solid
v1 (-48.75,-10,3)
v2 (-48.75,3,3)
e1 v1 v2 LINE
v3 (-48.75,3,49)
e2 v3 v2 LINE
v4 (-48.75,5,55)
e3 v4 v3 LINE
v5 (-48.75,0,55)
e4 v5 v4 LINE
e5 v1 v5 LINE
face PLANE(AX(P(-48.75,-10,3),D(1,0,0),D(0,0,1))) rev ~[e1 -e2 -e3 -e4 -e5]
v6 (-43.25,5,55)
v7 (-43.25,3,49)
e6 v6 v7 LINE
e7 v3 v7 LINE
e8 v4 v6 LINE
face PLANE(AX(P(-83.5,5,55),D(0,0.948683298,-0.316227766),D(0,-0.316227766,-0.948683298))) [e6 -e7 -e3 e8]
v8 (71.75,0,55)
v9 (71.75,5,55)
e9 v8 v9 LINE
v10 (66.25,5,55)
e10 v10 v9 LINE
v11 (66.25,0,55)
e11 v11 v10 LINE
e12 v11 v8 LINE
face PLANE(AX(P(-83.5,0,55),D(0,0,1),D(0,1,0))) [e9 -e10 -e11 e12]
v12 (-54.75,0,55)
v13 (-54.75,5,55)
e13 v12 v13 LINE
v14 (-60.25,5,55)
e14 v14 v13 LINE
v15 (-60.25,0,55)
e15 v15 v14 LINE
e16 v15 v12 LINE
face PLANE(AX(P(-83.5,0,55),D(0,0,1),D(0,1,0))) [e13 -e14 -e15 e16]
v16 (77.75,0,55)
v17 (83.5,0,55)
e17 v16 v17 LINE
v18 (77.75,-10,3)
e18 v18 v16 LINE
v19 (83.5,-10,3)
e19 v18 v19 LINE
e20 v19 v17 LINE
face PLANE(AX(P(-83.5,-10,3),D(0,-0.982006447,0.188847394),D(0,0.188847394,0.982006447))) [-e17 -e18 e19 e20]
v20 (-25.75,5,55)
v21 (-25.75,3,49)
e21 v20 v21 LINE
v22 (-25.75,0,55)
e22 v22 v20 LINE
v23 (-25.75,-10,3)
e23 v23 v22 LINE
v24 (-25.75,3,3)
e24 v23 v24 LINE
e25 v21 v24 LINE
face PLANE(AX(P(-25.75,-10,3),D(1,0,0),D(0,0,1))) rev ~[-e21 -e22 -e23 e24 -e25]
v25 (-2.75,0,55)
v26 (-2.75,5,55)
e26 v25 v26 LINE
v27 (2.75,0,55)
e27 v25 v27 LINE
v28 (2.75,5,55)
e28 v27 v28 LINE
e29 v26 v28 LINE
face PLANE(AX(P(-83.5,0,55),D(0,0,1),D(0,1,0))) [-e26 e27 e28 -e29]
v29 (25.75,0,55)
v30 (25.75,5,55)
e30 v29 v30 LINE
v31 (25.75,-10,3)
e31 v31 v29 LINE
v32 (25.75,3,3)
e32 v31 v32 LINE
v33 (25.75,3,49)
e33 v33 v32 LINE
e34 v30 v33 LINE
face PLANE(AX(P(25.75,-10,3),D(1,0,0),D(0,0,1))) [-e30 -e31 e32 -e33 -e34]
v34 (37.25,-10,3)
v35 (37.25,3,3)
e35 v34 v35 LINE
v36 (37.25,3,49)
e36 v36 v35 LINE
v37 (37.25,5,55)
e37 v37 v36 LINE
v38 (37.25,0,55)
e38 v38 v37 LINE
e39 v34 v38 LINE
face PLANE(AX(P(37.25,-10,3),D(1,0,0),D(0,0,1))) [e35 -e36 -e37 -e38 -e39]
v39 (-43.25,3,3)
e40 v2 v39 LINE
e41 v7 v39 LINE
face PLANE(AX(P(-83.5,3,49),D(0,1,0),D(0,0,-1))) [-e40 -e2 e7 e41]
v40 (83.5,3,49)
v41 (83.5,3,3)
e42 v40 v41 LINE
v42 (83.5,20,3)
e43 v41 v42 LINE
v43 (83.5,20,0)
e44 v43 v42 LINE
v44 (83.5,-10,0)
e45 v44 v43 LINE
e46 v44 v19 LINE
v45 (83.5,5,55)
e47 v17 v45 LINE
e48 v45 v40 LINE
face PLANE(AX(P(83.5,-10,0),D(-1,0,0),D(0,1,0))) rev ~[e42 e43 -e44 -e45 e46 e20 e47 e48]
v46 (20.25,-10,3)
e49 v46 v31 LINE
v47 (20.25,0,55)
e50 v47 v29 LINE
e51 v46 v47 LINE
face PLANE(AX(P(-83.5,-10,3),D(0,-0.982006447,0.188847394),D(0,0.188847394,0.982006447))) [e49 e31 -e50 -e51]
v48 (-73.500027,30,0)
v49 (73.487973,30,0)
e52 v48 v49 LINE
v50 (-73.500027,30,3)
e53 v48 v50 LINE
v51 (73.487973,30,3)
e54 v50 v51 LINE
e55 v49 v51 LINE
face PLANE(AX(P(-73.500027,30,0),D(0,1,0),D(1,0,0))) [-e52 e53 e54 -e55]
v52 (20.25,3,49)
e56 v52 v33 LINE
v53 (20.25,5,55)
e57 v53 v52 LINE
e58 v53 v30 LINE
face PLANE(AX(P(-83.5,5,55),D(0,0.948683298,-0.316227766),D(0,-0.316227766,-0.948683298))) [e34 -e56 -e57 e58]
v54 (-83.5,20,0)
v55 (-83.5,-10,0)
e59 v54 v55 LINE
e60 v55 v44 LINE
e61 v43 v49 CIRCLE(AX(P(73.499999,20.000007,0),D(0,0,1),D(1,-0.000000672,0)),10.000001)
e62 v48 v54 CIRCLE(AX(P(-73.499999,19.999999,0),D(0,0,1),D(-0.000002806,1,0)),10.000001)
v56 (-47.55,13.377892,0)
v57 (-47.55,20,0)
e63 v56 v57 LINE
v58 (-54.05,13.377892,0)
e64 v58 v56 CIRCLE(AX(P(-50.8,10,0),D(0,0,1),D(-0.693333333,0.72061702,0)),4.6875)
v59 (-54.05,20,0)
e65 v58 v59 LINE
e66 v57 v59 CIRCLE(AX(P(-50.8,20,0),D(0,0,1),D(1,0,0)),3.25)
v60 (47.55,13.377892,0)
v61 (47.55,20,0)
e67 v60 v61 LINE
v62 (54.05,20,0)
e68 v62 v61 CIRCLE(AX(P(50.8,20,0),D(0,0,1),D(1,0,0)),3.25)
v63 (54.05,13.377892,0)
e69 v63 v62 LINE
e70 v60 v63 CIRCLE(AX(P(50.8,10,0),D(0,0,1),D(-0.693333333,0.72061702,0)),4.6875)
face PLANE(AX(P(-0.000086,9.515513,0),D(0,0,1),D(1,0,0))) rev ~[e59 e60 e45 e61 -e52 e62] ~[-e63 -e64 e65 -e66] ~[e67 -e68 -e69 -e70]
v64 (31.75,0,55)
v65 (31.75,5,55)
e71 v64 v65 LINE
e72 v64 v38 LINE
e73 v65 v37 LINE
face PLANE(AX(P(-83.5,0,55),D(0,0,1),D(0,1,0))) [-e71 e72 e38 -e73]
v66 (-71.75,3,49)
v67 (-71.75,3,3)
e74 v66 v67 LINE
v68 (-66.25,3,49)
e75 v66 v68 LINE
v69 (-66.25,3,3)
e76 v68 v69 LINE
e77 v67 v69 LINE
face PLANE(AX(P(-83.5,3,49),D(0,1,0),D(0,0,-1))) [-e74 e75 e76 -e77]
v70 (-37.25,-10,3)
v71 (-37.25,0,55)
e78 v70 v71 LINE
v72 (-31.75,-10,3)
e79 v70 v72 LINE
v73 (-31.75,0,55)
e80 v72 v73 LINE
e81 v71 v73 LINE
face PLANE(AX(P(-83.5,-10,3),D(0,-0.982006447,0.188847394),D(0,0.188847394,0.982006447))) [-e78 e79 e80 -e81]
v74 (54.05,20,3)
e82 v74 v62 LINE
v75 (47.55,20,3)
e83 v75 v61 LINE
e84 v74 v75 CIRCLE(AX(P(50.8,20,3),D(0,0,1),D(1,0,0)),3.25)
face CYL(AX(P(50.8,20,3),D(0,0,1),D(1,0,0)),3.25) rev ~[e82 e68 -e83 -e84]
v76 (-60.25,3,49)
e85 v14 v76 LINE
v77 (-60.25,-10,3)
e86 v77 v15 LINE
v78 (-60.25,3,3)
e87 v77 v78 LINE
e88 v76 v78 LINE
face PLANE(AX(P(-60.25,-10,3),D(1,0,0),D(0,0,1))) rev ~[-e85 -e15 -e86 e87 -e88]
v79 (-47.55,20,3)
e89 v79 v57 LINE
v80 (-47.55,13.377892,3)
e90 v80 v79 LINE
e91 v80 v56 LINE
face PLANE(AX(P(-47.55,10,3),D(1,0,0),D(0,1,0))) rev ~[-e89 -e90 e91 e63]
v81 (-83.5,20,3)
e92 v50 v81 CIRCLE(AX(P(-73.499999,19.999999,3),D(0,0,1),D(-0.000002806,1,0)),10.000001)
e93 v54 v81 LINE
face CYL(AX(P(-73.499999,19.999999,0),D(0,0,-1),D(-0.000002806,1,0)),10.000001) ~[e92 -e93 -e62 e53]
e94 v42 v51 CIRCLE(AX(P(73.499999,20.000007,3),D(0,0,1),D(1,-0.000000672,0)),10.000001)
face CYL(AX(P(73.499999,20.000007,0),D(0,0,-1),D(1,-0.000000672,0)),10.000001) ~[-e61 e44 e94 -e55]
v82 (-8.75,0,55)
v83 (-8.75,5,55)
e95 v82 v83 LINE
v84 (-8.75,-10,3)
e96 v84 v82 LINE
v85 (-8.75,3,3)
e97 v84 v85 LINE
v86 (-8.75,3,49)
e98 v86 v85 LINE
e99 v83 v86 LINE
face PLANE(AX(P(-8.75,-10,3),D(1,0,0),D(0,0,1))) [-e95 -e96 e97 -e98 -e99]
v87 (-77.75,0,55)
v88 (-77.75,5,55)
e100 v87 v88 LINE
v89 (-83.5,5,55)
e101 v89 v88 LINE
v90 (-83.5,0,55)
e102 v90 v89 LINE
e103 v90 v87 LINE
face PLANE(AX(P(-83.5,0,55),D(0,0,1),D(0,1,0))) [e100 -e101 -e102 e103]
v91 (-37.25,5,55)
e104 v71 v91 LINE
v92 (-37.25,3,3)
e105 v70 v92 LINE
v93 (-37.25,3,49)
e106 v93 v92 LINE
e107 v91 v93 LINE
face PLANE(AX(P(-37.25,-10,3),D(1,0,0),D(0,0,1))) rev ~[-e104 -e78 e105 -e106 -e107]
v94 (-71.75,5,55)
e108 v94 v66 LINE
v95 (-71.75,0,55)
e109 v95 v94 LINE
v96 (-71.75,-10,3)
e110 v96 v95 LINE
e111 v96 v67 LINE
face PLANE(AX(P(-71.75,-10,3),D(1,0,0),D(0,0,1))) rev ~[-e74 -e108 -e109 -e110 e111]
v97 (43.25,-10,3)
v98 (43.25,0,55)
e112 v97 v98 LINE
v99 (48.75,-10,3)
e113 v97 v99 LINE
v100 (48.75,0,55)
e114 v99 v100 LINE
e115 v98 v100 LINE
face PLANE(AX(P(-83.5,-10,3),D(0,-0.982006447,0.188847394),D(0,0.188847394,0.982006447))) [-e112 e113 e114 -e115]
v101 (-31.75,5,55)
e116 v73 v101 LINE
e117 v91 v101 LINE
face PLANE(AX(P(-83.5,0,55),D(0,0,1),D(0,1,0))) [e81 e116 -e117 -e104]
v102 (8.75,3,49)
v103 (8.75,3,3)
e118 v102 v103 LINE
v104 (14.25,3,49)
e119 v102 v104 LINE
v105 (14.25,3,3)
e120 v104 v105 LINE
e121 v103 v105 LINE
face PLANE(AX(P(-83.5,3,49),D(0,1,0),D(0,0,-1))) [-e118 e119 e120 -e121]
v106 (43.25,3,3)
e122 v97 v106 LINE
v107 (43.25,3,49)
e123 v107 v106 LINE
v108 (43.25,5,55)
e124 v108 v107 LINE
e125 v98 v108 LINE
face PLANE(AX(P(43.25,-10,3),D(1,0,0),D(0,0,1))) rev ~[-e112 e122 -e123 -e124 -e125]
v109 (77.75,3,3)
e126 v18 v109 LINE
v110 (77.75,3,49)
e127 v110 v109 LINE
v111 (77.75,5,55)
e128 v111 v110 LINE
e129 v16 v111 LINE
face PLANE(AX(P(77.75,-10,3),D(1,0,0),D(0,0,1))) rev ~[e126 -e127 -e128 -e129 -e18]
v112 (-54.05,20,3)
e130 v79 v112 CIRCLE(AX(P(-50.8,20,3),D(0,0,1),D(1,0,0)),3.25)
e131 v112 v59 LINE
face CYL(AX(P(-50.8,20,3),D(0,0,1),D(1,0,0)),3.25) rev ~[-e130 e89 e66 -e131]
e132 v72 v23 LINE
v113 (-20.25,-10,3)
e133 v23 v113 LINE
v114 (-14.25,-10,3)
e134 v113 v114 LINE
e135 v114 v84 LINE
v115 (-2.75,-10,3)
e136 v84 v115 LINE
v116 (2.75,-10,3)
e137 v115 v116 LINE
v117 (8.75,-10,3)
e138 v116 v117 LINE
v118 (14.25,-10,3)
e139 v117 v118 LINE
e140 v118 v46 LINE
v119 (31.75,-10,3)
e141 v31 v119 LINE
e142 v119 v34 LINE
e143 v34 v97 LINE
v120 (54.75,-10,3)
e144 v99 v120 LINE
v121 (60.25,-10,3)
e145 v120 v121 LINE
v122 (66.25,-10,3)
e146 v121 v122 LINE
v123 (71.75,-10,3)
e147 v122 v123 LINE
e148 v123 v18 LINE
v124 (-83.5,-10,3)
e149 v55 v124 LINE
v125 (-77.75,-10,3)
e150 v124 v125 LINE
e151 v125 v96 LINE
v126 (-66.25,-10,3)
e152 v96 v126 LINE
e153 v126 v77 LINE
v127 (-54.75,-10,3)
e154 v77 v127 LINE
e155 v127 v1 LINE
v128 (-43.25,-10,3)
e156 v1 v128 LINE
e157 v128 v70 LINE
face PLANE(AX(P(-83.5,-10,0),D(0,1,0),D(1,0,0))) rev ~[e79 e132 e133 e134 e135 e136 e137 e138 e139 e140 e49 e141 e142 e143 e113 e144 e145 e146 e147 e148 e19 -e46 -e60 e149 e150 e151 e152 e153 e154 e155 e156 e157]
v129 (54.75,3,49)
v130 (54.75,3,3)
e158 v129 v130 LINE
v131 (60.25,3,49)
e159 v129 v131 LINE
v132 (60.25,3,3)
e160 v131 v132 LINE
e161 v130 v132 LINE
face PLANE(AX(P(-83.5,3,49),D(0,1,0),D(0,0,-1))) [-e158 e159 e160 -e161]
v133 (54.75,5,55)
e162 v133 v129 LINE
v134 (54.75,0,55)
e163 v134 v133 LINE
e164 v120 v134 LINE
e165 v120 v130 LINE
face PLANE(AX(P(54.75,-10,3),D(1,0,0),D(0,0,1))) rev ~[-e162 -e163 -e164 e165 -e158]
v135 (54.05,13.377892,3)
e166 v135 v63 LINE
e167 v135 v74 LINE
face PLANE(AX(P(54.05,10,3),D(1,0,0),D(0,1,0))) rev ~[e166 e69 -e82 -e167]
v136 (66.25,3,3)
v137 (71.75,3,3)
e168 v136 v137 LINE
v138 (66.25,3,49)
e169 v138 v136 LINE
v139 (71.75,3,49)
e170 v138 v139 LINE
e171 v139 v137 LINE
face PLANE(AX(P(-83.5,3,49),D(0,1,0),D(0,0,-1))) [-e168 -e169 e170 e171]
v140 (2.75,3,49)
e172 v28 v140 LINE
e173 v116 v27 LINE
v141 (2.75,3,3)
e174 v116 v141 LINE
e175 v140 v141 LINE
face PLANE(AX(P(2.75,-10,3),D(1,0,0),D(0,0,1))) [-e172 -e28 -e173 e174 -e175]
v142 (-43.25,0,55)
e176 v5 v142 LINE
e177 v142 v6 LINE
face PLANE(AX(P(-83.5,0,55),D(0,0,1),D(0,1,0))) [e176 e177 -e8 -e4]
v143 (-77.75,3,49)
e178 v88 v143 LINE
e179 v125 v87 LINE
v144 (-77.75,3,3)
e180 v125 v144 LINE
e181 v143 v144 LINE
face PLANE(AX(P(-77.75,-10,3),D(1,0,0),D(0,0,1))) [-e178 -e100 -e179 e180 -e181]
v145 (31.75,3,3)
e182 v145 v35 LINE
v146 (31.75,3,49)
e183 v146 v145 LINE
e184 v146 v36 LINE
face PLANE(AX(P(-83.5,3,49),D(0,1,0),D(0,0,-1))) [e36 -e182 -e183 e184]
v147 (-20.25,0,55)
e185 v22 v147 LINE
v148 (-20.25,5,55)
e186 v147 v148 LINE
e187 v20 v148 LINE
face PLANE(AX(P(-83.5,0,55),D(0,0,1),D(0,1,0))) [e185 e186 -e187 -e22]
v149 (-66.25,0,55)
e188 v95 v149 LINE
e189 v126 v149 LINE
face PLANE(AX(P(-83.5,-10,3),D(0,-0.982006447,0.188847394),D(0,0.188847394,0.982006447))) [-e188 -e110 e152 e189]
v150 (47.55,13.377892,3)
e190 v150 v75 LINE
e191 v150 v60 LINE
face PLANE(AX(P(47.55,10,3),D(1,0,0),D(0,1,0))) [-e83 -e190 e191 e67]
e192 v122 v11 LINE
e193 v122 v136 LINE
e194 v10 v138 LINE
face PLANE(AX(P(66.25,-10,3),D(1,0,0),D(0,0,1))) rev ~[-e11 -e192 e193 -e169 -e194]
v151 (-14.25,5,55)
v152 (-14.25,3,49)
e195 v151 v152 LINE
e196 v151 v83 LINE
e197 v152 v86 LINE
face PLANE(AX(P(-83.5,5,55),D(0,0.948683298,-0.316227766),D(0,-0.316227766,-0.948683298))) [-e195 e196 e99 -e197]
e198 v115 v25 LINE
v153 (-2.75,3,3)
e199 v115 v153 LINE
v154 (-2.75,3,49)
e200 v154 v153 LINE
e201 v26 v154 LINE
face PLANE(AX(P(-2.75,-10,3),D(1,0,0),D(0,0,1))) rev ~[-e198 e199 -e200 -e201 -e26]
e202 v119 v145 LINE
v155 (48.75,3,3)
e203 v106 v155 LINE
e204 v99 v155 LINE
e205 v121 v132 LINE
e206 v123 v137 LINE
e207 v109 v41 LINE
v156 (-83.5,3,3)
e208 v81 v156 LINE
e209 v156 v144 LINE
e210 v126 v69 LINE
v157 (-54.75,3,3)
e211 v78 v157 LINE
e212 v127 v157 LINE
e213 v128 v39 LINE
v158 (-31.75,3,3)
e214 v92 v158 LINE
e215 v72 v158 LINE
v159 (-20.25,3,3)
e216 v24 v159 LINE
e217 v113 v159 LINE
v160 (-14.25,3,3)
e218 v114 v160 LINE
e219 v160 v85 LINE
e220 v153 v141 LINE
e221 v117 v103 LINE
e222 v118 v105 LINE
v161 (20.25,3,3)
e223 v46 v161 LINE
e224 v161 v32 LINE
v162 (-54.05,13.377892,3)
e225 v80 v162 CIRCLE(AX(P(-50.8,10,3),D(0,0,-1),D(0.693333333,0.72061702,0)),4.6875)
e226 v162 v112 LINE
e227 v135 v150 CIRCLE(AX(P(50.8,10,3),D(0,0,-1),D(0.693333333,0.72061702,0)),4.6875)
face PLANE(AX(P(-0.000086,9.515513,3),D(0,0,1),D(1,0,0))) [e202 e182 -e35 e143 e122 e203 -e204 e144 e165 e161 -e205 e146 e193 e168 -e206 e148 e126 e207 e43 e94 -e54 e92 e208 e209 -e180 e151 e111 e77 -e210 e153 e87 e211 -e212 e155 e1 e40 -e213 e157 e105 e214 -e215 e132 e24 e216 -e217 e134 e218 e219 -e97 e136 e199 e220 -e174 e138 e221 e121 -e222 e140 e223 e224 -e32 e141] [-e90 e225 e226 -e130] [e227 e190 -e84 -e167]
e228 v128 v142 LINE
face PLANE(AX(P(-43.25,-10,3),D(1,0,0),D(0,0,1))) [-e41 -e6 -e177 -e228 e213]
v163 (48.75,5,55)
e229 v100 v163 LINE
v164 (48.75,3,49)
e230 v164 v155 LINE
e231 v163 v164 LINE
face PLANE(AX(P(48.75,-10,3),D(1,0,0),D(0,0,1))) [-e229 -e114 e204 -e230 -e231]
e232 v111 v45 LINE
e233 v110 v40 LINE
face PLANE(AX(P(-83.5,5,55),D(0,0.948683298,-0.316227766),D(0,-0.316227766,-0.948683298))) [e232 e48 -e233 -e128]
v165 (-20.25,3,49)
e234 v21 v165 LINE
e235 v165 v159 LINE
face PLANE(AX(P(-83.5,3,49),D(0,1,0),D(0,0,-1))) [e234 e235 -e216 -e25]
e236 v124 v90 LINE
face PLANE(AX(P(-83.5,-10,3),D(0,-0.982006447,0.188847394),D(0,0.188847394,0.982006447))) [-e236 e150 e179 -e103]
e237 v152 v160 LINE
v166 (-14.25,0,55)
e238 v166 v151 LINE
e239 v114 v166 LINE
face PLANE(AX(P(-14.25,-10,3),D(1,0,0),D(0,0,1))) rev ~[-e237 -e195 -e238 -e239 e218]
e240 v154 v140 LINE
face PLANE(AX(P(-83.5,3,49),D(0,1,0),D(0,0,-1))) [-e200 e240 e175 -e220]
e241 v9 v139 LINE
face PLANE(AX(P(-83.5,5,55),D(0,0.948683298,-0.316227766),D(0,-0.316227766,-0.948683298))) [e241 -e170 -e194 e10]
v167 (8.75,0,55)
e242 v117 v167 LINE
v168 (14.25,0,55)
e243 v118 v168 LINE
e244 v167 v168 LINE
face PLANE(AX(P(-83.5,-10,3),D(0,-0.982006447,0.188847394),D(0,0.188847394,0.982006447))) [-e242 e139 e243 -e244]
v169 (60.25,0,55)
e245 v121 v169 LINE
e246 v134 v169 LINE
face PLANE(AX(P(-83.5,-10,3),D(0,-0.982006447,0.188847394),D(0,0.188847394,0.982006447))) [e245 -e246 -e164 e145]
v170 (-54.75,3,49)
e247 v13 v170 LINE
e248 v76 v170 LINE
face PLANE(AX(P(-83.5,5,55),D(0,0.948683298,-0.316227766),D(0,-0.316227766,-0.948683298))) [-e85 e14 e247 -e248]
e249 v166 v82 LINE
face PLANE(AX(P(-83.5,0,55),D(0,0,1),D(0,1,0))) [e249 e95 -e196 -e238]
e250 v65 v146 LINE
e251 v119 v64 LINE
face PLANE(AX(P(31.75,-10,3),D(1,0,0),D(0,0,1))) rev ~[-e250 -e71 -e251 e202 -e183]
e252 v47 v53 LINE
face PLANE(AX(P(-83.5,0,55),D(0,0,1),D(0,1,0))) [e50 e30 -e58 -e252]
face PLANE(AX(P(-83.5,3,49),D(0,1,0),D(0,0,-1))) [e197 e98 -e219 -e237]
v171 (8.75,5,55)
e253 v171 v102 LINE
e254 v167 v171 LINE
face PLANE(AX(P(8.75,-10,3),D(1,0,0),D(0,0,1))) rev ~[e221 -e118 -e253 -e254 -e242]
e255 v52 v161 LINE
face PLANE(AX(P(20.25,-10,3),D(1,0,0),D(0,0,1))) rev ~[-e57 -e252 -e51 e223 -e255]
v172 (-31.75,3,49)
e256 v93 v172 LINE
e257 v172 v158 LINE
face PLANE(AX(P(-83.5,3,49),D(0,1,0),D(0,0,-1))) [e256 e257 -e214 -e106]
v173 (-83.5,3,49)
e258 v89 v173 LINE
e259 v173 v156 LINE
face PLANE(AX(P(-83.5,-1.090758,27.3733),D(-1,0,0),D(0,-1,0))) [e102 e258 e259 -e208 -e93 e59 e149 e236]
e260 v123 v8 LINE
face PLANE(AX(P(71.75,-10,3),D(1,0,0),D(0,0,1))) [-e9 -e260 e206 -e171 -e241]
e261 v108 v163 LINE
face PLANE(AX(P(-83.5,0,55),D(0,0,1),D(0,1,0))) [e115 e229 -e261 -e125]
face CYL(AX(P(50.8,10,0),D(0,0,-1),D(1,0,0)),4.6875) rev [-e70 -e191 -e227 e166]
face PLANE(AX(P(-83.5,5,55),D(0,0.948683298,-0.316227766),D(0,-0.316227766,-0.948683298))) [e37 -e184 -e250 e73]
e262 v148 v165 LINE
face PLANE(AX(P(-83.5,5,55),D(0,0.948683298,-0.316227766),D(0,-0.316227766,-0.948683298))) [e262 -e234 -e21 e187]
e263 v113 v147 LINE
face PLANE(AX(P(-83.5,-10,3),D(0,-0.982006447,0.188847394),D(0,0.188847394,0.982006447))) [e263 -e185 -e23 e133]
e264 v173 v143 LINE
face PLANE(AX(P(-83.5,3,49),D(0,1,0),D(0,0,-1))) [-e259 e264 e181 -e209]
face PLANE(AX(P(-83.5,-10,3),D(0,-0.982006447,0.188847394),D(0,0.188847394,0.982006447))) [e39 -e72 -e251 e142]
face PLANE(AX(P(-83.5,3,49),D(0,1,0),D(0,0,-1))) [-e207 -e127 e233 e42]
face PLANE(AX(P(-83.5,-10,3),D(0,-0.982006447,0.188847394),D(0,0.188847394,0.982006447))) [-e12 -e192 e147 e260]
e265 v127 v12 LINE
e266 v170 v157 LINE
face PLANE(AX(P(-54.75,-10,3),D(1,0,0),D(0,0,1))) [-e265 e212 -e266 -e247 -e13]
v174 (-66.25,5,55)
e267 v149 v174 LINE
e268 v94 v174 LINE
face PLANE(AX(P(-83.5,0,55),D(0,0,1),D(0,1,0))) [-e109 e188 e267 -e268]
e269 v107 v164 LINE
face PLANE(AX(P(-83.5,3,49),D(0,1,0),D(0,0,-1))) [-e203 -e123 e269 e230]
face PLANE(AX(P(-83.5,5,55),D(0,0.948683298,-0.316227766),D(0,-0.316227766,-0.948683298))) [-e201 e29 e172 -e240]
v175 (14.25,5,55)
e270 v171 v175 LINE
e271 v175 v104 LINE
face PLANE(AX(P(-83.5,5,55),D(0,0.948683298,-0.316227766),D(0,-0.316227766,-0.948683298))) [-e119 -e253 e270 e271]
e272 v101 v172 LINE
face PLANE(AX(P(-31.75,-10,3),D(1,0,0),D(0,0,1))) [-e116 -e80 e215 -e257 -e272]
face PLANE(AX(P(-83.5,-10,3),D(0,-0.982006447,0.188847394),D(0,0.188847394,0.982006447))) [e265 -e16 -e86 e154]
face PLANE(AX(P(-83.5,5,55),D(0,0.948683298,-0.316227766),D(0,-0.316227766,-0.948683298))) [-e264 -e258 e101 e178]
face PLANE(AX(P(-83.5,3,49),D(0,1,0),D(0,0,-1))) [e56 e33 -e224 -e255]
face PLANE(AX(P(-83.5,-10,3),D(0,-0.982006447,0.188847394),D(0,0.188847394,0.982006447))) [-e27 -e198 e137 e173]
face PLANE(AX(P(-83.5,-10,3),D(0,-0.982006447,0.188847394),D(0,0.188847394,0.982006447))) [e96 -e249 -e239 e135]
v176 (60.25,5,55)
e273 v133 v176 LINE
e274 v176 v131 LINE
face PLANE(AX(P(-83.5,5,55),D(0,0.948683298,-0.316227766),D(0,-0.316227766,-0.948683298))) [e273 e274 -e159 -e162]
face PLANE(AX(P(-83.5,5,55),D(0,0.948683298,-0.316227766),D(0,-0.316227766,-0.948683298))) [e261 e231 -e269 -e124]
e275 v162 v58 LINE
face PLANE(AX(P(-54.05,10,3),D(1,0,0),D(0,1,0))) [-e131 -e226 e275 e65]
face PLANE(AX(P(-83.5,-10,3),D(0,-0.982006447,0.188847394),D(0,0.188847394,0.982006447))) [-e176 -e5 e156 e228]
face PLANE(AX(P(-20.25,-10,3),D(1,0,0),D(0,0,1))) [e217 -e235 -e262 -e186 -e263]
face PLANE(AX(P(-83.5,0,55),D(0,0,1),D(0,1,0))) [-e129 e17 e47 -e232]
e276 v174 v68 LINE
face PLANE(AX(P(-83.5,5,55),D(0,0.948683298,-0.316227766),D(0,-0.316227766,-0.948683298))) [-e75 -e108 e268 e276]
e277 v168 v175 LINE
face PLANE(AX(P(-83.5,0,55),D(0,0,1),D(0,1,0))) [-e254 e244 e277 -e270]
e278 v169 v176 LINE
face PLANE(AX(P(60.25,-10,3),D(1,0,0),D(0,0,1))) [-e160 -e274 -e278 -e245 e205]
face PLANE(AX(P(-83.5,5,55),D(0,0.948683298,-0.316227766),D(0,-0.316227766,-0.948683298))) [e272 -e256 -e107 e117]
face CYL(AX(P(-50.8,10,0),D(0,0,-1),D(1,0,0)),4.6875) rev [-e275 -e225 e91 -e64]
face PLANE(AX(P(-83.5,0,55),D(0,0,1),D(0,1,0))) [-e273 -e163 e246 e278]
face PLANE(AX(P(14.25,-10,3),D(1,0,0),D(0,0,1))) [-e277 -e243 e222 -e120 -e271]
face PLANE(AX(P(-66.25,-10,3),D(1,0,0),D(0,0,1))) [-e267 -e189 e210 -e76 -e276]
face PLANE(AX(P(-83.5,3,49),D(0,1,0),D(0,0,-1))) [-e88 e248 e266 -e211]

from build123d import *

# Parameters (mm, degrees)
SKETCH004_AS_DRAWN_W                 = 6
SKETCH004_AS_DRAWN_H                 = 52
EXTRUDE003_DEPTH                     = 15
EXTRUDE003_ONTO_SKETCH004_ROLL_ANGLE = 90
EXTRUDE002_DEPTH                     = 167
EXTRUDE001_DEPTH                     = 3
SKETCH_R                             = 4.6875
EXTRUDE_DEPTH                        = 3


with BuildPart() as extrude003:
    # Sketch004 as drawn → Extrude003 (new)
    with BuildSketch(Plane.XY):
        with Locations((-74.75, 29)):
            Rectangle(SKETCH004_AS_DRAWN_W, SKETCH004_AS_DRAWN_H)
        with Locations((-63.25, 29)):
            Rectangle(SKETCH004_AS_DRAWN_W, SKETCH004_AS_DRAWN_H)
        with Locations((-51.75, 29)):
            Rectangle(SKETCH004_AS_DRAWN_W, SKETCH004_AS_DRAWN_H)
        with Locations((-40.25, 29)):
            Rectangle(SKETCH004_AS_DRAWN_W, SKETCH004_AS_DRAWN_H)
        with Locations((-28.75, 29)):
            Rectangle(SKETCH004_AS_DRAWN_W, SKETCH004_AS_DRAWN_H)
        with Locations((-17.25, 29)):
            Rectangle(SKETCH004_AS_DRAWN_W, SKETCH004_AS_DRAWN_H)
        with Locations((-5.75, 29)):
            Rectangle(SKETCH004_AS_DRAWN_W, SKETCH004_AS_DRAWN_H)
        with Locations((5.75, 29)):
            Rectangle(SKETCH004_AS_DRAWN_W, SKETCH004_AS_DRAWN_H)
        with Locations((17.25, 29)):
            Rectangle(SKETCH004_AS_DRAWN_W, SKETCH004_AS_DRAWN_H)
        with Locations((28.75, 29)):
            Rectangle(SKETCH004_AS_DRAWN_W, SKETCH004_AS_DRAWN_H)
        with Locations((40.25, 29)):
            Rectangle(SKETCH004_AS_DRAWN_W, SKETCH004_AS_DRAWN_H)
        with Locations((51.75, 29)):
            Rectangle(SKETCH004_AS_DRAWN_W, SKETCH004_AS_DRAWN_H)
        with Locations((63.25, 29)):
            Rectangle(SKETCH004_AS_DRAWN_W, SKETCH004_AS_DRAWN_H)
        with Locations((74.75, 29)):
            Rectangle(SKETCH004_AS_DRAWN_W, SKETCH004_AS_DRAWN_H)
    extrude(amount=-EXTRUDE003_DEPTH)


with BuildPart() as extrude003_1:
    # Extrude003 onto Sketch004 roll: moved
    add(extrude003.part.rotate(Axis((0, 0, 0), (1, 0, 0)), EXTRUDE003_ONTO_SKETCH004_ROLL_ANGLE))


with BuildPart() as extrude003_2:
    # Extrude003 onto Sketch004 placement: moved
    add(extrude003_1.part.moved(Location((0, -10, 0))))


with BuildPart() as cut001:
    # Sketch003 → Extrude002 (new body)
    with BuildSketch(Plane(origin=(-83.5, 0, 0), x_dir=(0, -1, 0), z_dir=(-1, 0, 0))):
        Polygon((0, 55), (-5, 55), (-3, 49), (-3, 3), (10, 3), align=None)
    extrude(amount=-EXTRUDE002_DEPTH)

    # Cut001: cut Extrude003
    add(extrude003_2.part, mode=Mode.SUBTRACT)


with BuildPart() as extrude001:
    # Sketch001 → Extrude001 (new body)
    with BuildSketch(Plane.XY.offset(3)):
        with BuildLine():
            ThreePointArc((-54.05, 10), (-50.8, 6.75), (-47.55, 10))
            Line((-47.55, 10), (-47.55, 20))
            ThreePointArc((-47.55, 20), (-50.8, 23.25), (-54.05, 20))
            Line((-54.05, 10), (-54.05, 20))
        make_face()
        with BuildLine():
            ThreePointArc((47.55, 10), (50.8, 6.75), (54.05, 10))
            Line((54.05, 10), (54.05, 20))
            ThreePointArc((54.05, 20), (50.8, 23.25), (47.55, 20))
            Line((47.55, 10), (47.55, 20))
        make_face()
    extrude(amount=-EXTRUDE001_DEPTH)


with BuildPart() as fusion:
    # Sketch → Extrude (new body)
    with BuildSketch(Plane.XY):
        with BuildLine():
            Line((-83.5, 20), (-83.5, -10))
            Line((-83.5, -10), (83.5, -10))
            Line((83.5, -10), (83.5, 20))
            ThreePointArc((83.5, 20), (80.566817, 27.075323), (73.487973, 30))
            Line((-73.500027, 30), (73.487973, 30))
            ThreePointArc((-73.500027, 30), (-80.571077, 27.071058), (-83.5, 20))
        make_face()
        with Locations((50.8, 10)):
            Circle(SKETCH_R, mode=Mode.SUBTRACT)
        with Locations((-50.8, 10)):
            Circle(SKETCH_R, mode=Mode.SUBTRACT)
    extrude(amount=EXTRUDE_DEPTH)

    # Cut: cut Extrude001
    add(extrude001.part, mode=Mode.SUBTRACT)

    # Fusion: union Cut001
    add(cut001.part)


solid = fusion.part
